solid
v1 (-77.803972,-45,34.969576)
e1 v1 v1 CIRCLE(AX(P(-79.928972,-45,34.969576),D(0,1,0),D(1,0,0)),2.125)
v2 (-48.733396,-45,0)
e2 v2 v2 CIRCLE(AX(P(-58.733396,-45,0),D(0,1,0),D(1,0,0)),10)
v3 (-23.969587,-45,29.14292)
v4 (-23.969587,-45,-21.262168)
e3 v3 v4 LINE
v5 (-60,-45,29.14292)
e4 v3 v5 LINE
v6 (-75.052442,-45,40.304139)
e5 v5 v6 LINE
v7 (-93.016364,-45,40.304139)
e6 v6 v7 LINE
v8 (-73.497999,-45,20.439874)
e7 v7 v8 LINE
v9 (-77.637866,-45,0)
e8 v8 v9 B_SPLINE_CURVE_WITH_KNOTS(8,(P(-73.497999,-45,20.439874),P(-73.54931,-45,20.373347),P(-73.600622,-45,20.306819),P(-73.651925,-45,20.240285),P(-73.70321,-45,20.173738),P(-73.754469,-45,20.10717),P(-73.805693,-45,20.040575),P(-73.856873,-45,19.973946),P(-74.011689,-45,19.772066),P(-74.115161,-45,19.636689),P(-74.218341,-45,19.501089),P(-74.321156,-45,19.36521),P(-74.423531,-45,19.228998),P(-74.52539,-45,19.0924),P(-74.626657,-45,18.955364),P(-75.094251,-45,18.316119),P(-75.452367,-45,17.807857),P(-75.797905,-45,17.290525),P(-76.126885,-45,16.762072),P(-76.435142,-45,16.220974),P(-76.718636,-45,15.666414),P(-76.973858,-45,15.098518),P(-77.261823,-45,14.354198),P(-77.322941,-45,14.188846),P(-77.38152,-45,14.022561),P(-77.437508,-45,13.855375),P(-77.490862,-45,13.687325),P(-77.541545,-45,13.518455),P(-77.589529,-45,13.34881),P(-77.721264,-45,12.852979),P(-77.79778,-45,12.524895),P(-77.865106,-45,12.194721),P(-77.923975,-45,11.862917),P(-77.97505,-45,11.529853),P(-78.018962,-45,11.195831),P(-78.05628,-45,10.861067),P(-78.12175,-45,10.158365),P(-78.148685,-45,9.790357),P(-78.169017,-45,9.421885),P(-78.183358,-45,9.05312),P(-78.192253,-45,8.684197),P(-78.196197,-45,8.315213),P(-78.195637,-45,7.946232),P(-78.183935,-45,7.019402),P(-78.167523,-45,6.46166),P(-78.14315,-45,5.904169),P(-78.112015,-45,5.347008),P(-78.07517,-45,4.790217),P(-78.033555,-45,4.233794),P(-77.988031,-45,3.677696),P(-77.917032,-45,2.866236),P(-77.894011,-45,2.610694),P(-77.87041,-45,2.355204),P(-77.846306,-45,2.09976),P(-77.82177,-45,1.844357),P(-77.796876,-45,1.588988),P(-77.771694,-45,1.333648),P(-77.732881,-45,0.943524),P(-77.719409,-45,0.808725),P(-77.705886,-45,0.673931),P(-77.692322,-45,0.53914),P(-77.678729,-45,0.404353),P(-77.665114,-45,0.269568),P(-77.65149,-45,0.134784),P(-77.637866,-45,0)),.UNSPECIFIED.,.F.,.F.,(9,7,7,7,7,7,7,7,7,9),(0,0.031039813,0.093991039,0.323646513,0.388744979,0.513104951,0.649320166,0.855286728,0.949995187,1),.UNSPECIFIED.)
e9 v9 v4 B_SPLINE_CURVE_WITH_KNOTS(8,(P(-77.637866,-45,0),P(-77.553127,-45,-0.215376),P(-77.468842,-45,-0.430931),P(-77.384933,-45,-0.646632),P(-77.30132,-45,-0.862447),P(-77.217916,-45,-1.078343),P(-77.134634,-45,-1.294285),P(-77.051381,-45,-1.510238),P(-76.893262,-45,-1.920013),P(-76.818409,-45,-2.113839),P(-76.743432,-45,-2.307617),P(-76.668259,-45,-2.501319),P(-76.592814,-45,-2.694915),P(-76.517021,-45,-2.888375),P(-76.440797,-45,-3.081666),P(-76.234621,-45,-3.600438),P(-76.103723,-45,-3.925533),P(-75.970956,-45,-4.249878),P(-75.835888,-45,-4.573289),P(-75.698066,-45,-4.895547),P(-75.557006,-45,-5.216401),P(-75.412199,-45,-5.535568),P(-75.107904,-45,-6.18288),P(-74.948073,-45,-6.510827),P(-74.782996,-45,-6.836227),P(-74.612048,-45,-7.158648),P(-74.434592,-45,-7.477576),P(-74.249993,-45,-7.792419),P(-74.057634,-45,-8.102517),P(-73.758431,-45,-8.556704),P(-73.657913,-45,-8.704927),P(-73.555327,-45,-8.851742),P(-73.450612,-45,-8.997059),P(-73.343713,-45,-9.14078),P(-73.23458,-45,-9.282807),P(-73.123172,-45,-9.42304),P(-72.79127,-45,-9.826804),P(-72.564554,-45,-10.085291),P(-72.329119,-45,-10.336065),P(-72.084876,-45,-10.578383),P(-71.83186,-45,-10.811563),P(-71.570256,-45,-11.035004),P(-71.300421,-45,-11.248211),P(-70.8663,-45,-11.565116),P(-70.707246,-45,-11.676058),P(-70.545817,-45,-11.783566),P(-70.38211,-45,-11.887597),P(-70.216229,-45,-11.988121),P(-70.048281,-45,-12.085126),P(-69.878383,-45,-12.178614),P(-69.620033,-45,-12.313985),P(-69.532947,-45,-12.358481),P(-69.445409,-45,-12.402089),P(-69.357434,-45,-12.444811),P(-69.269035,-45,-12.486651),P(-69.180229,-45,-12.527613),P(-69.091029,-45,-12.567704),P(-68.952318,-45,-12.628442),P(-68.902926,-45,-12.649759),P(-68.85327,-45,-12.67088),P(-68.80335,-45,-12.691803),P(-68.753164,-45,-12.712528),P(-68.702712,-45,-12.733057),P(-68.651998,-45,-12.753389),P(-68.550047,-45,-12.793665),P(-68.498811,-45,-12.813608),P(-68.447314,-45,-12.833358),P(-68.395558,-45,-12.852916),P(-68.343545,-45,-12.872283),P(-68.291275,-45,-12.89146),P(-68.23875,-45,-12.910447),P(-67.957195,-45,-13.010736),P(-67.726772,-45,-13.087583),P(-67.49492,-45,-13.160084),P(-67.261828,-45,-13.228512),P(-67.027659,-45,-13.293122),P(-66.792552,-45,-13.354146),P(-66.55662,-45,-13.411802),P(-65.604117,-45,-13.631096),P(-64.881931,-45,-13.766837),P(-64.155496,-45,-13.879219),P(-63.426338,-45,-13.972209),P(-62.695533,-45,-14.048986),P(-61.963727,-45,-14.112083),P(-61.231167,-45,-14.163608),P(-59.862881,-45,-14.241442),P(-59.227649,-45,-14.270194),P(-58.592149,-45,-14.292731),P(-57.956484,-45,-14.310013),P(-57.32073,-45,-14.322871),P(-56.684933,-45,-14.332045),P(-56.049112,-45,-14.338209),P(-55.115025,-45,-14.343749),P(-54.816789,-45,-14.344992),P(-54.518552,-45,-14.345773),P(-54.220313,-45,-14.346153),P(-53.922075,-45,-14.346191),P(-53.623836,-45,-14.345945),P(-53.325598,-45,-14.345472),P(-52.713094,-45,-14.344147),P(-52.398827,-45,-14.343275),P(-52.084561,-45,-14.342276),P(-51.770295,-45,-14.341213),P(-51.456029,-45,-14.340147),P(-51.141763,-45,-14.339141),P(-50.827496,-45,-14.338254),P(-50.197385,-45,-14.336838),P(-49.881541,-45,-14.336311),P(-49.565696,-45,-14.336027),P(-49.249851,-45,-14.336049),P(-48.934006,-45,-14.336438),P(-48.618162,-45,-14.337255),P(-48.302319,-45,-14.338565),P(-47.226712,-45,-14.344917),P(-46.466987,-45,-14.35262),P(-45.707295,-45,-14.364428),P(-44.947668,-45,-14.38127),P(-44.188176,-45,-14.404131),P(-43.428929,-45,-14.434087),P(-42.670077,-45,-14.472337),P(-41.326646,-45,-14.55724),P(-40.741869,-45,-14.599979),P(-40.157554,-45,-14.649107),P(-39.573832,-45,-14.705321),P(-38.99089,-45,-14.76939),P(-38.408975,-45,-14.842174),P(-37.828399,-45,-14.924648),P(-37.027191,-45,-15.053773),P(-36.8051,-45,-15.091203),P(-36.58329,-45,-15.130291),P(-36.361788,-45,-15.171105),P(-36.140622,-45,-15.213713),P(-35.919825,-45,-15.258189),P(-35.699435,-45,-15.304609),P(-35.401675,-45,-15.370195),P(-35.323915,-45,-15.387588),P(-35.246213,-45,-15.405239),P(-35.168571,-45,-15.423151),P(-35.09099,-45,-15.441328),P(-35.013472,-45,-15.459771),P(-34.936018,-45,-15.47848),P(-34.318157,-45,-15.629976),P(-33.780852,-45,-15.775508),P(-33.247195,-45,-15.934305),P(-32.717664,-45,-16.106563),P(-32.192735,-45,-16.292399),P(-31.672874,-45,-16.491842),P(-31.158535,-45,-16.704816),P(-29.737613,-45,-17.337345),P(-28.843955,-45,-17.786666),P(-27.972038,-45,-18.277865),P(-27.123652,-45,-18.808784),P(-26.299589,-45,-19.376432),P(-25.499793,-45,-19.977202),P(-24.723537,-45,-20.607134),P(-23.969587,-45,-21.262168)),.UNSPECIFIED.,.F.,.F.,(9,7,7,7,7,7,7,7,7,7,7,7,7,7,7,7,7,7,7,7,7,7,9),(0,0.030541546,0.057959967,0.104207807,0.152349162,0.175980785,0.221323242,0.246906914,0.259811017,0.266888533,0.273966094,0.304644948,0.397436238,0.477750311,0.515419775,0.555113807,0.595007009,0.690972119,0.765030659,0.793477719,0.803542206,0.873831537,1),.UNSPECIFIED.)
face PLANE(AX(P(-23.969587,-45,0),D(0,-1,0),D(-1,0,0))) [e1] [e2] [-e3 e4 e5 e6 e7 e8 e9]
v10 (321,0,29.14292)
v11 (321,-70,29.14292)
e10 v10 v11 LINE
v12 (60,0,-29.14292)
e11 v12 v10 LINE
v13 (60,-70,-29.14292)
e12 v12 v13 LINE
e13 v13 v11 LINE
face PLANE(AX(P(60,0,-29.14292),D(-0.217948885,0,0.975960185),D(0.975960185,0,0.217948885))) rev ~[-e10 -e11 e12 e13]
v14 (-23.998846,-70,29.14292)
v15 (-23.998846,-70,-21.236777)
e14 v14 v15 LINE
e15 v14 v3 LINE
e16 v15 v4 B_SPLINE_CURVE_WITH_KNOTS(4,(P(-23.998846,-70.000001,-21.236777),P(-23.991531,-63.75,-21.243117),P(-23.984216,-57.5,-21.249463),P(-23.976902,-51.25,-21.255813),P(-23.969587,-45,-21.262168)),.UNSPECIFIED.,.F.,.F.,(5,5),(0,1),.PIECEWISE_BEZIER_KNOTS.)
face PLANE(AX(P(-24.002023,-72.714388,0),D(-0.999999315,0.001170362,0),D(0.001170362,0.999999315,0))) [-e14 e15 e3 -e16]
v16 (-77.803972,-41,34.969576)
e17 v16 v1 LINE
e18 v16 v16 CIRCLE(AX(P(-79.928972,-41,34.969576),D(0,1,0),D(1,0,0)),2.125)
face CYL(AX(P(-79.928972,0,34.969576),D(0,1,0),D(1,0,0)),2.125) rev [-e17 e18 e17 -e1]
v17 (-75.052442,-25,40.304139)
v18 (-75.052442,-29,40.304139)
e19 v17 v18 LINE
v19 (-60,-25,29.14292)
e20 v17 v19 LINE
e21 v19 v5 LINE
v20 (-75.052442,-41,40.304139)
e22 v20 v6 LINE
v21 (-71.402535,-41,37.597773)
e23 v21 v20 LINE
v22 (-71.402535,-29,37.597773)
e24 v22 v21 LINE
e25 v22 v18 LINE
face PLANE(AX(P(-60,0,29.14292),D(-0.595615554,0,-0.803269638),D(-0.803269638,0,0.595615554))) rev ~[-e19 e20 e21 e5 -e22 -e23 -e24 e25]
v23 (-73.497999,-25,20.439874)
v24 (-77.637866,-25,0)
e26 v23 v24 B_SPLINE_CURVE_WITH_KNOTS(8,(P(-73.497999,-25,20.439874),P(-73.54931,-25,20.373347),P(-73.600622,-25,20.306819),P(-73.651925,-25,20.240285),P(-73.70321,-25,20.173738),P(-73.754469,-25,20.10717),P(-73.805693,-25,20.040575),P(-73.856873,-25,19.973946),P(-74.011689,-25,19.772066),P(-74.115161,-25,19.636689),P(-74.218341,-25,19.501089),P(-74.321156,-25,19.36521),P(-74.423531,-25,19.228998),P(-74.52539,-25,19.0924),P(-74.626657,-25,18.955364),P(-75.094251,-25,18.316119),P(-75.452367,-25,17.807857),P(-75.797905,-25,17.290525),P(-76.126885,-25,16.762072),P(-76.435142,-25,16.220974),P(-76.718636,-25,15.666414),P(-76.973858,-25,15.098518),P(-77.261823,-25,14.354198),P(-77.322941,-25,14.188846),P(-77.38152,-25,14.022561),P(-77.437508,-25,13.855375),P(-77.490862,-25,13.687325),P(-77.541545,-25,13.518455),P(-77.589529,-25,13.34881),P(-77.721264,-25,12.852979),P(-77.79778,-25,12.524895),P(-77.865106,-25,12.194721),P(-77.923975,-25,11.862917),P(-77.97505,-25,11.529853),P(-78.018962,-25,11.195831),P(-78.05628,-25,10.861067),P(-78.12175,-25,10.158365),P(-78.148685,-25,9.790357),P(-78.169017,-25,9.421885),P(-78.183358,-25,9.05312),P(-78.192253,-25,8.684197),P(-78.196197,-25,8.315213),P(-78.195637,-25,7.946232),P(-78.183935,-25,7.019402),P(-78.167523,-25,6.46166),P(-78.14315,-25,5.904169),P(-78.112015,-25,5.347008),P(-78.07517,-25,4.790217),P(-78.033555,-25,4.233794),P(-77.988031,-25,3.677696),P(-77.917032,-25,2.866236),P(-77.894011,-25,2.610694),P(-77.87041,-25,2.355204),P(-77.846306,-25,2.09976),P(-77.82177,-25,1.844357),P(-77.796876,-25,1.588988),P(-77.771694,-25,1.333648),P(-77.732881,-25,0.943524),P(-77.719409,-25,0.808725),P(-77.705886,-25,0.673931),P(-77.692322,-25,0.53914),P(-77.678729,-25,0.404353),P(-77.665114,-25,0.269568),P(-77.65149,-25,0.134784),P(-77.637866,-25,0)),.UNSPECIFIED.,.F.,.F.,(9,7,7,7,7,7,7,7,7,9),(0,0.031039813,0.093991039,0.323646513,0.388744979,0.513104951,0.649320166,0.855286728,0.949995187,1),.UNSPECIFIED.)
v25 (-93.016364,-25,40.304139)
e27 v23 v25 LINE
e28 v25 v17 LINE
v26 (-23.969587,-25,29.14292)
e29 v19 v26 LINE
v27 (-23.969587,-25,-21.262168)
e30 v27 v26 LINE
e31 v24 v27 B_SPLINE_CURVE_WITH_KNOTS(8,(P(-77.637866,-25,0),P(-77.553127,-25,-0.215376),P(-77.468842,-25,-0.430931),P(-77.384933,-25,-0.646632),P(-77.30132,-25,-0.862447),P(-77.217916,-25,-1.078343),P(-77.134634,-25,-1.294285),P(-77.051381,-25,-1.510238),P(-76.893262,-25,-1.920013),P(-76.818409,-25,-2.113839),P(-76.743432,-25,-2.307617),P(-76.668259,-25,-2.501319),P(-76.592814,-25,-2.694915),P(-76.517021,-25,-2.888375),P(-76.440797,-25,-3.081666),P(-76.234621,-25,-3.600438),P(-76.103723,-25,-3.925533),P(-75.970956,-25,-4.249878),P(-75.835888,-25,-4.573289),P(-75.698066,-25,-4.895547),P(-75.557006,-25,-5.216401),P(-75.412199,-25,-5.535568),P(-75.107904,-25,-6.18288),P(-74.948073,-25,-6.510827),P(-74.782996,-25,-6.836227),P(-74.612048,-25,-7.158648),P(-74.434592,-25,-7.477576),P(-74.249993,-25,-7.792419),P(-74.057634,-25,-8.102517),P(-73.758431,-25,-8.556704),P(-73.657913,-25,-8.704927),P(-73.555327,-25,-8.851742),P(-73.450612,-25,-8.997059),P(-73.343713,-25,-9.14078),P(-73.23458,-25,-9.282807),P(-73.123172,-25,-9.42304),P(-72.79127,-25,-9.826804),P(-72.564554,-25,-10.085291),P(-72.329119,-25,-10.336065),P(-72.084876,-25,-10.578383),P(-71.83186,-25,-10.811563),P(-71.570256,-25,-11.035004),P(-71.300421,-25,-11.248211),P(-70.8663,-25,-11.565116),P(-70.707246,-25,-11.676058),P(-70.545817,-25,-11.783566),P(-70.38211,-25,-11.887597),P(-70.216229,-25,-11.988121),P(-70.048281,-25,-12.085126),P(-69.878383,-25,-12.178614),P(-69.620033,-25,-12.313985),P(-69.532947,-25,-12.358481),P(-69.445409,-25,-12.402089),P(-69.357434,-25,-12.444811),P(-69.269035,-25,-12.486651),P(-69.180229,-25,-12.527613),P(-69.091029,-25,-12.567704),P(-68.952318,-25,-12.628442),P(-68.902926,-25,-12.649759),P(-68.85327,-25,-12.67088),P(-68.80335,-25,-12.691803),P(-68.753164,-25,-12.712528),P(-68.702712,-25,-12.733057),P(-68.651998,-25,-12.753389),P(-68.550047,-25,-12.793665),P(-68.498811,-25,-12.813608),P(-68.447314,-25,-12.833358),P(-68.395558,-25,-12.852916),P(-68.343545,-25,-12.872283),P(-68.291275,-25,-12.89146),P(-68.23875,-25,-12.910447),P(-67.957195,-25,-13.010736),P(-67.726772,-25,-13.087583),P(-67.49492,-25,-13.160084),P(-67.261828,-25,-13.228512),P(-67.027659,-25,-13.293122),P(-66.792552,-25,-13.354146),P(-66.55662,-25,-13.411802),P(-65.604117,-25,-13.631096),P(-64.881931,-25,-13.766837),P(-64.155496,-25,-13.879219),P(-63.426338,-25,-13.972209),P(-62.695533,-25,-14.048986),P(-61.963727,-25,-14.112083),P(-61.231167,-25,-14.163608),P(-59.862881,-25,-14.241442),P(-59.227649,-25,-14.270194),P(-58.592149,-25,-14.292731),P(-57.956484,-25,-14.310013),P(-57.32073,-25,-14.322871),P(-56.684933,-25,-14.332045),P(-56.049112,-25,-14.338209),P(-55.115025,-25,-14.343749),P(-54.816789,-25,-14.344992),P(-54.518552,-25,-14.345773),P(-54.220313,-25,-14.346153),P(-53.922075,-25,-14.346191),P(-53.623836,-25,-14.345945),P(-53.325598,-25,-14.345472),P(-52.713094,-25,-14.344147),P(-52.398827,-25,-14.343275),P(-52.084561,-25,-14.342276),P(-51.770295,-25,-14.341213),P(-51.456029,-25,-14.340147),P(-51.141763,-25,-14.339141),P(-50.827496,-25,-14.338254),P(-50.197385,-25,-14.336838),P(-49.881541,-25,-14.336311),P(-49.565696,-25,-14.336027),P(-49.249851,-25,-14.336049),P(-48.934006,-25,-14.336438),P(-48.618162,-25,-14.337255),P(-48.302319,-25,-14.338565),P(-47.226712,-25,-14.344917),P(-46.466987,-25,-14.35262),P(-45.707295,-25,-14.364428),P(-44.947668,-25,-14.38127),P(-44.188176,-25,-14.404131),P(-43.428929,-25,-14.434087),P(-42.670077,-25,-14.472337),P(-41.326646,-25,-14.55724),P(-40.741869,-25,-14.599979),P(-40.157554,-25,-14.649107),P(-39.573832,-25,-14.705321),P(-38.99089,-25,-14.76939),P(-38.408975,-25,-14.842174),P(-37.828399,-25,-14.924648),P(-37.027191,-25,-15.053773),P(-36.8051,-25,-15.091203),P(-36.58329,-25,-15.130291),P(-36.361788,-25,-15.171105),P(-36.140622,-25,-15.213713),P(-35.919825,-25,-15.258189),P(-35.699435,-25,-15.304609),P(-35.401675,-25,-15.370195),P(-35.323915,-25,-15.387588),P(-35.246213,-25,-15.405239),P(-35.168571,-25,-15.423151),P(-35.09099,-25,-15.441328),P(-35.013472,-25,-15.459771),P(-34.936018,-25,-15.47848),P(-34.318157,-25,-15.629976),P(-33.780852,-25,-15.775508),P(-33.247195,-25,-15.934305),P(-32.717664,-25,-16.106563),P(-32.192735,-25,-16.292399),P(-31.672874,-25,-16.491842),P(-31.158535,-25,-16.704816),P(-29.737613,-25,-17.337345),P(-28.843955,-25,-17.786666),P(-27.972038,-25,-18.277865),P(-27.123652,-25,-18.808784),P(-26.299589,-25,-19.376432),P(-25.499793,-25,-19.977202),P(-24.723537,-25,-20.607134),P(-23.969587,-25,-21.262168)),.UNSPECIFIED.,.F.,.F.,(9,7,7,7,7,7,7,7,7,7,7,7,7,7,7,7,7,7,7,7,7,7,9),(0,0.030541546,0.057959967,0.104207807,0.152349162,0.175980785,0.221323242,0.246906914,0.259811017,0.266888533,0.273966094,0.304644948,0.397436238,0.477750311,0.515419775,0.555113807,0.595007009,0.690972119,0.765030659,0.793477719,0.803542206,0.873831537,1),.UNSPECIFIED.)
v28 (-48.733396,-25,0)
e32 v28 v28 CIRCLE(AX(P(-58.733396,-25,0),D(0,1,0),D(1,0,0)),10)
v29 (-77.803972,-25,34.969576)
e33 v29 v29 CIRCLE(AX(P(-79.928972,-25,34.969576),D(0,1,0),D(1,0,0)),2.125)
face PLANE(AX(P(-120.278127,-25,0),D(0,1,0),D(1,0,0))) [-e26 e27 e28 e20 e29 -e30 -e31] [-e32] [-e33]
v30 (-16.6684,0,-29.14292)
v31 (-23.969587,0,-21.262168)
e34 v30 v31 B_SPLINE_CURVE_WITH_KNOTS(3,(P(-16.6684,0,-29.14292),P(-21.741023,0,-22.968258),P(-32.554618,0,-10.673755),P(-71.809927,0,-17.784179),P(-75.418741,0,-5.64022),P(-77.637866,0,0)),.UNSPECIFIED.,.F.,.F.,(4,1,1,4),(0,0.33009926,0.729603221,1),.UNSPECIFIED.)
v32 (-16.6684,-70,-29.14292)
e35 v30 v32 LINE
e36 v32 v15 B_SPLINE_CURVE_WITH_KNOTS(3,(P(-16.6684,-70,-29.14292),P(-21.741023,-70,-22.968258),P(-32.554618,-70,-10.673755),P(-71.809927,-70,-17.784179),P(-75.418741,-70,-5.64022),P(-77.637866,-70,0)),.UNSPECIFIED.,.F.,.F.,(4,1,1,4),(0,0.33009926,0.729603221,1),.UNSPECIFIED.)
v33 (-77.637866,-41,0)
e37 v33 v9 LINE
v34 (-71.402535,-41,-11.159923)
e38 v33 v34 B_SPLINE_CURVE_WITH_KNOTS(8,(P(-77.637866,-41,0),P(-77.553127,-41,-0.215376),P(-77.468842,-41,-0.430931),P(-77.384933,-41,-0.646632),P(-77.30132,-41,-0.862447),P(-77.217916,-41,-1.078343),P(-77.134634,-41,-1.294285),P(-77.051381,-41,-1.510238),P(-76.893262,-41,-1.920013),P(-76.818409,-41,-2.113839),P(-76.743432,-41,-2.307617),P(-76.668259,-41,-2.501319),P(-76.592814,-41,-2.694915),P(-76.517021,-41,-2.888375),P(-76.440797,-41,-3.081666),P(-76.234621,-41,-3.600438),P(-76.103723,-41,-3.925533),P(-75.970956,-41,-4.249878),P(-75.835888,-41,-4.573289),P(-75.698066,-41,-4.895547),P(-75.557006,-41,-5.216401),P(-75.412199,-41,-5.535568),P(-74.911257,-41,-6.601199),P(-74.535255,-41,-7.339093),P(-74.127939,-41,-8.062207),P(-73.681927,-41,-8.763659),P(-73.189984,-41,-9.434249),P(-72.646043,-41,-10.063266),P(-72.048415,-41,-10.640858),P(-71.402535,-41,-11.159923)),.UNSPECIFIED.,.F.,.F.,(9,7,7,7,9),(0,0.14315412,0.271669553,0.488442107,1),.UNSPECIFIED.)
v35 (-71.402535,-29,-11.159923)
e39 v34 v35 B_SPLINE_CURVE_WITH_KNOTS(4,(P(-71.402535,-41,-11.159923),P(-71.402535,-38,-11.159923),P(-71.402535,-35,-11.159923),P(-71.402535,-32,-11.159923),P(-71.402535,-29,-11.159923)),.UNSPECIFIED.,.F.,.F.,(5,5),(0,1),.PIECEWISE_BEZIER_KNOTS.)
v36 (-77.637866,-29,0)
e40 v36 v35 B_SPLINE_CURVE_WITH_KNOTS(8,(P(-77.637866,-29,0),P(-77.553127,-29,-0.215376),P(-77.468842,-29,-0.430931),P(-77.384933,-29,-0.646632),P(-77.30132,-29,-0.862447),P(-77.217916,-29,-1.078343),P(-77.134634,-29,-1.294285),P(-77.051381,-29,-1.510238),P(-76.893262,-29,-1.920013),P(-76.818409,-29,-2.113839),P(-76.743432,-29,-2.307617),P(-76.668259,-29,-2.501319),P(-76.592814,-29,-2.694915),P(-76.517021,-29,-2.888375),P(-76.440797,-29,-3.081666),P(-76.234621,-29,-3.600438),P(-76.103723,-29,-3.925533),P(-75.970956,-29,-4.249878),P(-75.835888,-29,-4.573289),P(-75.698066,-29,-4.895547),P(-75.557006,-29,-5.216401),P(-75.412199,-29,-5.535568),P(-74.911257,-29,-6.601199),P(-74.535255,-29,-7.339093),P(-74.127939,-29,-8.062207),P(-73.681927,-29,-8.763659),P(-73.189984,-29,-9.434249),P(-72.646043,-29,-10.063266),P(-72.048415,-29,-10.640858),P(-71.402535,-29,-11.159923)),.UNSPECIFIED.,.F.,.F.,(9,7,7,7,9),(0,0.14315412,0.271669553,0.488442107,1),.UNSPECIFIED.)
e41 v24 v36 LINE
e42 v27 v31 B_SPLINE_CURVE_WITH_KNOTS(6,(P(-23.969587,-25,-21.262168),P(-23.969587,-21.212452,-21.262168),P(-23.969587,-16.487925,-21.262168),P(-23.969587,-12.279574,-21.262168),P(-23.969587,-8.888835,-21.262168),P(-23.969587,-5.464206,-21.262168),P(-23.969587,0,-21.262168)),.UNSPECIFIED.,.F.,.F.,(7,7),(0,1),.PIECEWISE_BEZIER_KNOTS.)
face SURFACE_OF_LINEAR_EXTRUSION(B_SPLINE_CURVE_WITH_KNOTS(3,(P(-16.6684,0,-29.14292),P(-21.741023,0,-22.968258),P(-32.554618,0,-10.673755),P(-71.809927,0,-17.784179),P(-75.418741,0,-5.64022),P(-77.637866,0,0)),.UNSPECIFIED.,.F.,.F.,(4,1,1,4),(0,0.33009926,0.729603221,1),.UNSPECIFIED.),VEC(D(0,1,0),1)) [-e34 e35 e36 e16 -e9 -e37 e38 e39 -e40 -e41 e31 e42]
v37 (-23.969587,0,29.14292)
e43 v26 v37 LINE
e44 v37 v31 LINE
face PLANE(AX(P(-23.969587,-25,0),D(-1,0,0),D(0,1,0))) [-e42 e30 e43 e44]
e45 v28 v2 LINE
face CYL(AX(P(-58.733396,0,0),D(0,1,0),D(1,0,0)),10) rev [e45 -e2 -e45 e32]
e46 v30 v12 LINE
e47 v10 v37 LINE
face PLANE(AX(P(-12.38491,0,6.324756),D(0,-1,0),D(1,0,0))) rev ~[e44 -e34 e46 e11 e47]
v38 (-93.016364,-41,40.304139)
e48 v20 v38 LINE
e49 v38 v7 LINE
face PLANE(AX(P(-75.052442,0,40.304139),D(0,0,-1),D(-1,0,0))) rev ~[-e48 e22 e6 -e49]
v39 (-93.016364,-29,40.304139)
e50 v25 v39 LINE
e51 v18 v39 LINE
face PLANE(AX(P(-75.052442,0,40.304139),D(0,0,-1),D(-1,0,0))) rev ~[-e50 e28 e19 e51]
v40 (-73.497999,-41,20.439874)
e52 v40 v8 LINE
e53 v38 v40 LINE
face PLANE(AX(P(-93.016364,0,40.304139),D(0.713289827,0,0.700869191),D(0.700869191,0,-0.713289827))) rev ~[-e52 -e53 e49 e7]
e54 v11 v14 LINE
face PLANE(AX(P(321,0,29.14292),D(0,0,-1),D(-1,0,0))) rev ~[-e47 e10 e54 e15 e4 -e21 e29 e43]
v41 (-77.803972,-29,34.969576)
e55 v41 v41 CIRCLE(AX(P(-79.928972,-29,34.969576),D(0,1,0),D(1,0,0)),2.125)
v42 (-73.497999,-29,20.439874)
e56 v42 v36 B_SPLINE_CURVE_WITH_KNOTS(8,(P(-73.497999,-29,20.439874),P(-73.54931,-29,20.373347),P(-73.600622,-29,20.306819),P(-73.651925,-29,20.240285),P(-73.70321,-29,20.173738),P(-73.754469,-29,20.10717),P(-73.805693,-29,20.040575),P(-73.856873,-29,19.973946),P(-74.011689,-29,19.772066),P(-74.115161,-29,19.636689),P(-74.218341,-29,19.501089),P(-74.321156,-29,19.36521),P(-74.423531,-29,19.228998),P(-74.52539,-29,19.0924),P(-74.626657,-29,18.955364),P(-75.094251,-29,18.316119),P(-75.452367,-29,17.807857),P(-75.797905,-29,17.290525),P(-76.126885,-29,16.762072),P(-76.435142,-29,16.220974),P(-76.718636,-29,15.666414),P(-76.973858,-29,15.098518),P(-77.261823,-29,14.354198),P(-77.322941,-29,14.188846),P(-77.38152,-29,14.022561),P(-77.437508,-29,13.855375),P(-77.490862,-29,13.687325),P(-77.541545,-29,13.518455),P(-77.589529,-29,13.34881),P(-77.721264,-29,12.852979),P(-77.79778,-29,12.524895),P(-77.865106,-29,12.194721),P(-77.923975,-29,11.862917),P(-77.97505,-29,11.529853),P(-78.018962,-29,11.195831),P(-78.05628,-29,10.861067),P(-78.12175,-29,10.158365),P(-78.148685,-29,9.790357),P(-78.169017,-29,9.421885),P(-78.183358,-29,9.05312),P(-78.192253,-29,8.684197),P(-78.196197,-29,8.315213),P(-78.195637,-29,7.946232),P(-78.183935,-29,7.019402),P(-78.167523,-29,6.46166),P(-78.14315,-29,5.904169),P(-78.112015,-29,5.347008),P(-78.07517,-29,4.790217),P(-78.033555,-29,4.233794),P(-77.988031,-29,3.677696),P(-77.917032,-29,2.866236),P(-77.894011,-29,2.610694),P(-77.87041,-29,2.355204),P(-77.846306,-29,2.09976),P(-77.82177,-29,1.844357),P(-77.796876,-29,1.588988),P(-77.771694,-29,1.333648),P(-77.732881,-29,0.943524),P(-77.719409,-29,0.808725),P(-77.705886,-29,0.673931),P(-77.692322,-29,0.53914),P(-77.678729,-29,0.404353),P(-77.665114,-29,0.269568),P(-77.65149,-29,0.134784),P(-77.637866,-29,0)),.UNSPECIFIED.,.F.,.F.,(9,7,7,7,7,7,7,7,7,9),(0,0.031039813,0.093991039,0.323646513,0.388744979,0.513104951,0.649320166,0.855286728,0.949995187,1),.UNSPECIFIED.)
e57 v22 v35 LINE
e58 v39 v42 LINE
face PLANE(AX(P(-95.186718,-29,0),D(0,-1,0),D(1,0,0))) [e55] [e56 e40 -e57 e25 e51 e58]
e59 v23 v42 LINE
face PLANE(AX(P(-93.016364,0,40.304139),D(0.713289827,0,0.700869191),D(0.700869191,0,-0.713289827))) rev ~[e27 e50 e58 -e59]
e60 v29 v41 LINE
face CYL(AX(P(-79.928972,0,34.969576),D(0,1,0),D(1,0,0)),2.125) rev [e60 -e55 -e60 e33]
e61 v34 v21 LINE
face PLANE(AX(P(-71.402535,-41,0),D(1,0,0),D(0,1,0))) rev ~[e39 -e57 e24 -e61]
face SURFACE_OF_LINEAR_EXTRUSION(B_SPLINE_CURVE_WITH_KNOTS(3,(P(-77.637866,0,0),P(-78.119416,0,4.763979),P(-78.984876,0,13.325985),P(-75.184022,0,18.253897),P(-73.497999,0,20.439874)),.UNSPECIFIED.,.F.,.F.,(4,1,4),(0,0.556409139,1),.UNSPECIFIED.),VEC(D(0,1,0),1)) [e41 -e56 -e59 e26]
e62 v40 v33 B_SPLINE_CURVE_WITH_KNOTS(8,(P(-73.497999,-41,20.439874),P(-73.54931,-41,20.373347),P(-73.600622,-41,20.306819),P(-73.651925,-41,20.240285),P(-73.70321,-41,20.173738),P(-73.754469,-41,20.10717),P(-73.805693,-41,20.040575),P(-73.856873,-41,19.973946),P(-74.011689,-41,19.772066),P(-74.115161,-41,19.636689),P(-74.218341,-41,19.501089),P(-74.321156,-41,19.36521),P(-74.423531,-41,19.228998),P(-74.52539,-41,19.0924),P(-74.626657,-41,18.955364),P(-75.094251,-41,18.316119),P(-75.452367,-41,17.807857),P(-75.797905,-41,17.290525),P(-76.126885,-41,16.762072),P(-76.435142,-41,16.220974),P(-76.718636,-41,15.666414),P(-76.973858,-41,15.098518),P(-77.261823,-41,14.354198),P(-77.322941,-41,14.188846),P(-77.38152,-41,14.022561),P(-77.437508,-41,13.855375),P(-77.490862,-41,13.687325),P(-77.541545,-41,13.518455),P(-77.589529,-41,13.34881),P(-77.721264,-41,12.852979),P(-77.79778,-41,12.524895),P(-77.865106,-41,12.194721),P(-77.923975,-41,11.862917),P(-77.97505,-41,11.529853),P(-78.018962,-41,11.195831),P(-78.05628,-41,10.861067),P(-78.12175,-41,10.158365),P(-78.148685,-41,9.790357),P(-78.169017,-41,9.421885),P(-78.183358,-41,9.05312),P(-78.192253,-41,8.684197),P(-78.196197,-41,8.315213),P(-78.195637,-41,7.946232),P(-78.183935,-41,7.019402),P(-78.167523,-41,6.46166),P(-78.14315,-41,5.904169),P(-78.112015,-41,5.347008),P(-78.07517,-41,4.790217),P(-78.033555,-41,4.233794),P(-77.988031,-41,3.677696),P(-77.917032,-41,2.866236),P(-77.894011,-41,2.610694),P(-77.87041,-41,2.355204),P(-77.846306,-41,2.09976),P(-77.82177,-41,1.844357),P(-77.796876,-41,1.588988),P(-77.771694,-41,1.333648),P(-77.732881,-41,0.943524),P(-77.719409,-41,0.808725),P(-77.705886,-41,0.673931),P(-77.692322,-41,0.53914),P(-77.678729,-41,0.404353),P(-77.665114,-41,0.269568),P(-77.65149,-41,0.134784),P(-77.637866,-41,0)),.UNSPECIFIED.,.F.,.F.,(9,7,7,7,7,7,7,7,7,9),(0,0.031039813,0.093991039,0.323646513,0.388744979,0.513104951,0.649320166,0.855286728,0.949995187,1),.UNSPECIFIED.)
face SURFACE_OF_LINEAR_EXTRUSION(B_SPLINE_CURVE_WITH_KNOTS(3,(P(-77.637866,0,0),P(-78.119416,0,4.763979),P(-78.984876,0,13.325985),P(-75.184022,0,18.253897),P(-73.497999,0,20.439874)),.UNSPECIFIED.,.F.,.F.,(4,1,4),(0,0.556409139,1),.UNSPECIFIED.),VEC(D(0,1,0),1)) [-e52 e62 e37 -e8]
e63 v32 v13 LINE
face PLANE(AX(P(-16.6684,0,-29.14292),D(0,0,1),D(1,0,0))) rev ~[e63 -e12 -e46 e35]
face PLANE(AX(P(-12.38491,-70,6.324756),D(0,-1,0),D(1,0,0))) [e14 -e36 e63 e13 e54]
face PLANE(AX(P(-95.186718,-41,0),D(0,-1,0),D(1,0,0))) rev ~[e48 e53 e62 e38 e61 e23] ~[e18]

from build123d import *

# Parameters (mm, degrees)
F0_R     = 10
F0_R_2   = 2.125
F1_DEPTH = 70
F2_W     = 23.7841829658
F2_H     = 12
F3_DEPTH = 50


with BuildPart() as f1:
    # F0 (on Front) → F1 (new body)
    with BuildSketch(Plane.XZ):
        with BuildLine():
            Line((60, 29.1429199278), (-60, 29.1429199278))
            Line((-60, 29.1429199278), (-75.0524420565, 40.3041392565))
            Line((-75.0524420565, 40.3041392565), (-93.0163642764, 40.3041392565))
            Line((-93.0163642764, 40.3041392565), (-73.4979985282, 20.4398736871))
            add(Edge.make_bspline(
                [(-77.6378661394, 0), (-78.1194158464, 4.7639785375), (-78.9848755826, 13.3259848022), (-75.1840223047, 18.2538969131), (-73.4979985282, 20.4398736871)],
                knots=[0, 0, 0, 0, 0.5564091394, 1, 1, 1, 1], degree=3))
            add(Edge.make_bspline(
                [(-16.6683998403, -29.1429199278), (-21.7410225995, -22.9682576809), (-32.5546179399, -10.6737549318), (-71.809926995, -17.7841787732), (-75.4187412252, -5.6402197394), (-77.6378661394, 0)],
                knots=[0, 0, 0, 0, 0.3300992596, 0.7296032213, 1, 1, 1, 1], degree=3))
            Line((-16.6683998403, -29.1429199278), (60, -29.1429199278))
            Line((60, -29.1429199278), (60, 29.1429199278))
        make_face()
        with Locations((-58.7333962321, 0)):
            Circle(F0_R, mode=Mode.SUBTRACT)
        with Locations((-79.928971827, 34.9695757031)):
            Circle(F0_R_2, mode=Mode.SUBTRACT)
        Polygon((321, 29.1429199278), (60, 29.1429199278), (60, -29.1429199278), align=None)
    extrude(amount=F1_DEPTH)

    # F2 (on Top) → F3 (cut, symmetric)
    with BuildSketch(Plane.XY):
        Polygon((-120.2781274915, 0), (-120.2781274915, -25), (-23.9695869386, -25), (-23.9695869386, 0), (-60, 0), align=None)
        Polygon((-23.9695869386, -45), (-122.6608380675, -45), (-122.6608380675, -72.7143883705), (-24.00202282, -72.7143883705), align=None)
        with Locations((-83.2946263254, -35)):
            Rectangle(F2_W, F2_H)
    extrude(amount=F3_DEPTH, both=True, mode=Mode.SUBTRACT)


solid = f1.part
